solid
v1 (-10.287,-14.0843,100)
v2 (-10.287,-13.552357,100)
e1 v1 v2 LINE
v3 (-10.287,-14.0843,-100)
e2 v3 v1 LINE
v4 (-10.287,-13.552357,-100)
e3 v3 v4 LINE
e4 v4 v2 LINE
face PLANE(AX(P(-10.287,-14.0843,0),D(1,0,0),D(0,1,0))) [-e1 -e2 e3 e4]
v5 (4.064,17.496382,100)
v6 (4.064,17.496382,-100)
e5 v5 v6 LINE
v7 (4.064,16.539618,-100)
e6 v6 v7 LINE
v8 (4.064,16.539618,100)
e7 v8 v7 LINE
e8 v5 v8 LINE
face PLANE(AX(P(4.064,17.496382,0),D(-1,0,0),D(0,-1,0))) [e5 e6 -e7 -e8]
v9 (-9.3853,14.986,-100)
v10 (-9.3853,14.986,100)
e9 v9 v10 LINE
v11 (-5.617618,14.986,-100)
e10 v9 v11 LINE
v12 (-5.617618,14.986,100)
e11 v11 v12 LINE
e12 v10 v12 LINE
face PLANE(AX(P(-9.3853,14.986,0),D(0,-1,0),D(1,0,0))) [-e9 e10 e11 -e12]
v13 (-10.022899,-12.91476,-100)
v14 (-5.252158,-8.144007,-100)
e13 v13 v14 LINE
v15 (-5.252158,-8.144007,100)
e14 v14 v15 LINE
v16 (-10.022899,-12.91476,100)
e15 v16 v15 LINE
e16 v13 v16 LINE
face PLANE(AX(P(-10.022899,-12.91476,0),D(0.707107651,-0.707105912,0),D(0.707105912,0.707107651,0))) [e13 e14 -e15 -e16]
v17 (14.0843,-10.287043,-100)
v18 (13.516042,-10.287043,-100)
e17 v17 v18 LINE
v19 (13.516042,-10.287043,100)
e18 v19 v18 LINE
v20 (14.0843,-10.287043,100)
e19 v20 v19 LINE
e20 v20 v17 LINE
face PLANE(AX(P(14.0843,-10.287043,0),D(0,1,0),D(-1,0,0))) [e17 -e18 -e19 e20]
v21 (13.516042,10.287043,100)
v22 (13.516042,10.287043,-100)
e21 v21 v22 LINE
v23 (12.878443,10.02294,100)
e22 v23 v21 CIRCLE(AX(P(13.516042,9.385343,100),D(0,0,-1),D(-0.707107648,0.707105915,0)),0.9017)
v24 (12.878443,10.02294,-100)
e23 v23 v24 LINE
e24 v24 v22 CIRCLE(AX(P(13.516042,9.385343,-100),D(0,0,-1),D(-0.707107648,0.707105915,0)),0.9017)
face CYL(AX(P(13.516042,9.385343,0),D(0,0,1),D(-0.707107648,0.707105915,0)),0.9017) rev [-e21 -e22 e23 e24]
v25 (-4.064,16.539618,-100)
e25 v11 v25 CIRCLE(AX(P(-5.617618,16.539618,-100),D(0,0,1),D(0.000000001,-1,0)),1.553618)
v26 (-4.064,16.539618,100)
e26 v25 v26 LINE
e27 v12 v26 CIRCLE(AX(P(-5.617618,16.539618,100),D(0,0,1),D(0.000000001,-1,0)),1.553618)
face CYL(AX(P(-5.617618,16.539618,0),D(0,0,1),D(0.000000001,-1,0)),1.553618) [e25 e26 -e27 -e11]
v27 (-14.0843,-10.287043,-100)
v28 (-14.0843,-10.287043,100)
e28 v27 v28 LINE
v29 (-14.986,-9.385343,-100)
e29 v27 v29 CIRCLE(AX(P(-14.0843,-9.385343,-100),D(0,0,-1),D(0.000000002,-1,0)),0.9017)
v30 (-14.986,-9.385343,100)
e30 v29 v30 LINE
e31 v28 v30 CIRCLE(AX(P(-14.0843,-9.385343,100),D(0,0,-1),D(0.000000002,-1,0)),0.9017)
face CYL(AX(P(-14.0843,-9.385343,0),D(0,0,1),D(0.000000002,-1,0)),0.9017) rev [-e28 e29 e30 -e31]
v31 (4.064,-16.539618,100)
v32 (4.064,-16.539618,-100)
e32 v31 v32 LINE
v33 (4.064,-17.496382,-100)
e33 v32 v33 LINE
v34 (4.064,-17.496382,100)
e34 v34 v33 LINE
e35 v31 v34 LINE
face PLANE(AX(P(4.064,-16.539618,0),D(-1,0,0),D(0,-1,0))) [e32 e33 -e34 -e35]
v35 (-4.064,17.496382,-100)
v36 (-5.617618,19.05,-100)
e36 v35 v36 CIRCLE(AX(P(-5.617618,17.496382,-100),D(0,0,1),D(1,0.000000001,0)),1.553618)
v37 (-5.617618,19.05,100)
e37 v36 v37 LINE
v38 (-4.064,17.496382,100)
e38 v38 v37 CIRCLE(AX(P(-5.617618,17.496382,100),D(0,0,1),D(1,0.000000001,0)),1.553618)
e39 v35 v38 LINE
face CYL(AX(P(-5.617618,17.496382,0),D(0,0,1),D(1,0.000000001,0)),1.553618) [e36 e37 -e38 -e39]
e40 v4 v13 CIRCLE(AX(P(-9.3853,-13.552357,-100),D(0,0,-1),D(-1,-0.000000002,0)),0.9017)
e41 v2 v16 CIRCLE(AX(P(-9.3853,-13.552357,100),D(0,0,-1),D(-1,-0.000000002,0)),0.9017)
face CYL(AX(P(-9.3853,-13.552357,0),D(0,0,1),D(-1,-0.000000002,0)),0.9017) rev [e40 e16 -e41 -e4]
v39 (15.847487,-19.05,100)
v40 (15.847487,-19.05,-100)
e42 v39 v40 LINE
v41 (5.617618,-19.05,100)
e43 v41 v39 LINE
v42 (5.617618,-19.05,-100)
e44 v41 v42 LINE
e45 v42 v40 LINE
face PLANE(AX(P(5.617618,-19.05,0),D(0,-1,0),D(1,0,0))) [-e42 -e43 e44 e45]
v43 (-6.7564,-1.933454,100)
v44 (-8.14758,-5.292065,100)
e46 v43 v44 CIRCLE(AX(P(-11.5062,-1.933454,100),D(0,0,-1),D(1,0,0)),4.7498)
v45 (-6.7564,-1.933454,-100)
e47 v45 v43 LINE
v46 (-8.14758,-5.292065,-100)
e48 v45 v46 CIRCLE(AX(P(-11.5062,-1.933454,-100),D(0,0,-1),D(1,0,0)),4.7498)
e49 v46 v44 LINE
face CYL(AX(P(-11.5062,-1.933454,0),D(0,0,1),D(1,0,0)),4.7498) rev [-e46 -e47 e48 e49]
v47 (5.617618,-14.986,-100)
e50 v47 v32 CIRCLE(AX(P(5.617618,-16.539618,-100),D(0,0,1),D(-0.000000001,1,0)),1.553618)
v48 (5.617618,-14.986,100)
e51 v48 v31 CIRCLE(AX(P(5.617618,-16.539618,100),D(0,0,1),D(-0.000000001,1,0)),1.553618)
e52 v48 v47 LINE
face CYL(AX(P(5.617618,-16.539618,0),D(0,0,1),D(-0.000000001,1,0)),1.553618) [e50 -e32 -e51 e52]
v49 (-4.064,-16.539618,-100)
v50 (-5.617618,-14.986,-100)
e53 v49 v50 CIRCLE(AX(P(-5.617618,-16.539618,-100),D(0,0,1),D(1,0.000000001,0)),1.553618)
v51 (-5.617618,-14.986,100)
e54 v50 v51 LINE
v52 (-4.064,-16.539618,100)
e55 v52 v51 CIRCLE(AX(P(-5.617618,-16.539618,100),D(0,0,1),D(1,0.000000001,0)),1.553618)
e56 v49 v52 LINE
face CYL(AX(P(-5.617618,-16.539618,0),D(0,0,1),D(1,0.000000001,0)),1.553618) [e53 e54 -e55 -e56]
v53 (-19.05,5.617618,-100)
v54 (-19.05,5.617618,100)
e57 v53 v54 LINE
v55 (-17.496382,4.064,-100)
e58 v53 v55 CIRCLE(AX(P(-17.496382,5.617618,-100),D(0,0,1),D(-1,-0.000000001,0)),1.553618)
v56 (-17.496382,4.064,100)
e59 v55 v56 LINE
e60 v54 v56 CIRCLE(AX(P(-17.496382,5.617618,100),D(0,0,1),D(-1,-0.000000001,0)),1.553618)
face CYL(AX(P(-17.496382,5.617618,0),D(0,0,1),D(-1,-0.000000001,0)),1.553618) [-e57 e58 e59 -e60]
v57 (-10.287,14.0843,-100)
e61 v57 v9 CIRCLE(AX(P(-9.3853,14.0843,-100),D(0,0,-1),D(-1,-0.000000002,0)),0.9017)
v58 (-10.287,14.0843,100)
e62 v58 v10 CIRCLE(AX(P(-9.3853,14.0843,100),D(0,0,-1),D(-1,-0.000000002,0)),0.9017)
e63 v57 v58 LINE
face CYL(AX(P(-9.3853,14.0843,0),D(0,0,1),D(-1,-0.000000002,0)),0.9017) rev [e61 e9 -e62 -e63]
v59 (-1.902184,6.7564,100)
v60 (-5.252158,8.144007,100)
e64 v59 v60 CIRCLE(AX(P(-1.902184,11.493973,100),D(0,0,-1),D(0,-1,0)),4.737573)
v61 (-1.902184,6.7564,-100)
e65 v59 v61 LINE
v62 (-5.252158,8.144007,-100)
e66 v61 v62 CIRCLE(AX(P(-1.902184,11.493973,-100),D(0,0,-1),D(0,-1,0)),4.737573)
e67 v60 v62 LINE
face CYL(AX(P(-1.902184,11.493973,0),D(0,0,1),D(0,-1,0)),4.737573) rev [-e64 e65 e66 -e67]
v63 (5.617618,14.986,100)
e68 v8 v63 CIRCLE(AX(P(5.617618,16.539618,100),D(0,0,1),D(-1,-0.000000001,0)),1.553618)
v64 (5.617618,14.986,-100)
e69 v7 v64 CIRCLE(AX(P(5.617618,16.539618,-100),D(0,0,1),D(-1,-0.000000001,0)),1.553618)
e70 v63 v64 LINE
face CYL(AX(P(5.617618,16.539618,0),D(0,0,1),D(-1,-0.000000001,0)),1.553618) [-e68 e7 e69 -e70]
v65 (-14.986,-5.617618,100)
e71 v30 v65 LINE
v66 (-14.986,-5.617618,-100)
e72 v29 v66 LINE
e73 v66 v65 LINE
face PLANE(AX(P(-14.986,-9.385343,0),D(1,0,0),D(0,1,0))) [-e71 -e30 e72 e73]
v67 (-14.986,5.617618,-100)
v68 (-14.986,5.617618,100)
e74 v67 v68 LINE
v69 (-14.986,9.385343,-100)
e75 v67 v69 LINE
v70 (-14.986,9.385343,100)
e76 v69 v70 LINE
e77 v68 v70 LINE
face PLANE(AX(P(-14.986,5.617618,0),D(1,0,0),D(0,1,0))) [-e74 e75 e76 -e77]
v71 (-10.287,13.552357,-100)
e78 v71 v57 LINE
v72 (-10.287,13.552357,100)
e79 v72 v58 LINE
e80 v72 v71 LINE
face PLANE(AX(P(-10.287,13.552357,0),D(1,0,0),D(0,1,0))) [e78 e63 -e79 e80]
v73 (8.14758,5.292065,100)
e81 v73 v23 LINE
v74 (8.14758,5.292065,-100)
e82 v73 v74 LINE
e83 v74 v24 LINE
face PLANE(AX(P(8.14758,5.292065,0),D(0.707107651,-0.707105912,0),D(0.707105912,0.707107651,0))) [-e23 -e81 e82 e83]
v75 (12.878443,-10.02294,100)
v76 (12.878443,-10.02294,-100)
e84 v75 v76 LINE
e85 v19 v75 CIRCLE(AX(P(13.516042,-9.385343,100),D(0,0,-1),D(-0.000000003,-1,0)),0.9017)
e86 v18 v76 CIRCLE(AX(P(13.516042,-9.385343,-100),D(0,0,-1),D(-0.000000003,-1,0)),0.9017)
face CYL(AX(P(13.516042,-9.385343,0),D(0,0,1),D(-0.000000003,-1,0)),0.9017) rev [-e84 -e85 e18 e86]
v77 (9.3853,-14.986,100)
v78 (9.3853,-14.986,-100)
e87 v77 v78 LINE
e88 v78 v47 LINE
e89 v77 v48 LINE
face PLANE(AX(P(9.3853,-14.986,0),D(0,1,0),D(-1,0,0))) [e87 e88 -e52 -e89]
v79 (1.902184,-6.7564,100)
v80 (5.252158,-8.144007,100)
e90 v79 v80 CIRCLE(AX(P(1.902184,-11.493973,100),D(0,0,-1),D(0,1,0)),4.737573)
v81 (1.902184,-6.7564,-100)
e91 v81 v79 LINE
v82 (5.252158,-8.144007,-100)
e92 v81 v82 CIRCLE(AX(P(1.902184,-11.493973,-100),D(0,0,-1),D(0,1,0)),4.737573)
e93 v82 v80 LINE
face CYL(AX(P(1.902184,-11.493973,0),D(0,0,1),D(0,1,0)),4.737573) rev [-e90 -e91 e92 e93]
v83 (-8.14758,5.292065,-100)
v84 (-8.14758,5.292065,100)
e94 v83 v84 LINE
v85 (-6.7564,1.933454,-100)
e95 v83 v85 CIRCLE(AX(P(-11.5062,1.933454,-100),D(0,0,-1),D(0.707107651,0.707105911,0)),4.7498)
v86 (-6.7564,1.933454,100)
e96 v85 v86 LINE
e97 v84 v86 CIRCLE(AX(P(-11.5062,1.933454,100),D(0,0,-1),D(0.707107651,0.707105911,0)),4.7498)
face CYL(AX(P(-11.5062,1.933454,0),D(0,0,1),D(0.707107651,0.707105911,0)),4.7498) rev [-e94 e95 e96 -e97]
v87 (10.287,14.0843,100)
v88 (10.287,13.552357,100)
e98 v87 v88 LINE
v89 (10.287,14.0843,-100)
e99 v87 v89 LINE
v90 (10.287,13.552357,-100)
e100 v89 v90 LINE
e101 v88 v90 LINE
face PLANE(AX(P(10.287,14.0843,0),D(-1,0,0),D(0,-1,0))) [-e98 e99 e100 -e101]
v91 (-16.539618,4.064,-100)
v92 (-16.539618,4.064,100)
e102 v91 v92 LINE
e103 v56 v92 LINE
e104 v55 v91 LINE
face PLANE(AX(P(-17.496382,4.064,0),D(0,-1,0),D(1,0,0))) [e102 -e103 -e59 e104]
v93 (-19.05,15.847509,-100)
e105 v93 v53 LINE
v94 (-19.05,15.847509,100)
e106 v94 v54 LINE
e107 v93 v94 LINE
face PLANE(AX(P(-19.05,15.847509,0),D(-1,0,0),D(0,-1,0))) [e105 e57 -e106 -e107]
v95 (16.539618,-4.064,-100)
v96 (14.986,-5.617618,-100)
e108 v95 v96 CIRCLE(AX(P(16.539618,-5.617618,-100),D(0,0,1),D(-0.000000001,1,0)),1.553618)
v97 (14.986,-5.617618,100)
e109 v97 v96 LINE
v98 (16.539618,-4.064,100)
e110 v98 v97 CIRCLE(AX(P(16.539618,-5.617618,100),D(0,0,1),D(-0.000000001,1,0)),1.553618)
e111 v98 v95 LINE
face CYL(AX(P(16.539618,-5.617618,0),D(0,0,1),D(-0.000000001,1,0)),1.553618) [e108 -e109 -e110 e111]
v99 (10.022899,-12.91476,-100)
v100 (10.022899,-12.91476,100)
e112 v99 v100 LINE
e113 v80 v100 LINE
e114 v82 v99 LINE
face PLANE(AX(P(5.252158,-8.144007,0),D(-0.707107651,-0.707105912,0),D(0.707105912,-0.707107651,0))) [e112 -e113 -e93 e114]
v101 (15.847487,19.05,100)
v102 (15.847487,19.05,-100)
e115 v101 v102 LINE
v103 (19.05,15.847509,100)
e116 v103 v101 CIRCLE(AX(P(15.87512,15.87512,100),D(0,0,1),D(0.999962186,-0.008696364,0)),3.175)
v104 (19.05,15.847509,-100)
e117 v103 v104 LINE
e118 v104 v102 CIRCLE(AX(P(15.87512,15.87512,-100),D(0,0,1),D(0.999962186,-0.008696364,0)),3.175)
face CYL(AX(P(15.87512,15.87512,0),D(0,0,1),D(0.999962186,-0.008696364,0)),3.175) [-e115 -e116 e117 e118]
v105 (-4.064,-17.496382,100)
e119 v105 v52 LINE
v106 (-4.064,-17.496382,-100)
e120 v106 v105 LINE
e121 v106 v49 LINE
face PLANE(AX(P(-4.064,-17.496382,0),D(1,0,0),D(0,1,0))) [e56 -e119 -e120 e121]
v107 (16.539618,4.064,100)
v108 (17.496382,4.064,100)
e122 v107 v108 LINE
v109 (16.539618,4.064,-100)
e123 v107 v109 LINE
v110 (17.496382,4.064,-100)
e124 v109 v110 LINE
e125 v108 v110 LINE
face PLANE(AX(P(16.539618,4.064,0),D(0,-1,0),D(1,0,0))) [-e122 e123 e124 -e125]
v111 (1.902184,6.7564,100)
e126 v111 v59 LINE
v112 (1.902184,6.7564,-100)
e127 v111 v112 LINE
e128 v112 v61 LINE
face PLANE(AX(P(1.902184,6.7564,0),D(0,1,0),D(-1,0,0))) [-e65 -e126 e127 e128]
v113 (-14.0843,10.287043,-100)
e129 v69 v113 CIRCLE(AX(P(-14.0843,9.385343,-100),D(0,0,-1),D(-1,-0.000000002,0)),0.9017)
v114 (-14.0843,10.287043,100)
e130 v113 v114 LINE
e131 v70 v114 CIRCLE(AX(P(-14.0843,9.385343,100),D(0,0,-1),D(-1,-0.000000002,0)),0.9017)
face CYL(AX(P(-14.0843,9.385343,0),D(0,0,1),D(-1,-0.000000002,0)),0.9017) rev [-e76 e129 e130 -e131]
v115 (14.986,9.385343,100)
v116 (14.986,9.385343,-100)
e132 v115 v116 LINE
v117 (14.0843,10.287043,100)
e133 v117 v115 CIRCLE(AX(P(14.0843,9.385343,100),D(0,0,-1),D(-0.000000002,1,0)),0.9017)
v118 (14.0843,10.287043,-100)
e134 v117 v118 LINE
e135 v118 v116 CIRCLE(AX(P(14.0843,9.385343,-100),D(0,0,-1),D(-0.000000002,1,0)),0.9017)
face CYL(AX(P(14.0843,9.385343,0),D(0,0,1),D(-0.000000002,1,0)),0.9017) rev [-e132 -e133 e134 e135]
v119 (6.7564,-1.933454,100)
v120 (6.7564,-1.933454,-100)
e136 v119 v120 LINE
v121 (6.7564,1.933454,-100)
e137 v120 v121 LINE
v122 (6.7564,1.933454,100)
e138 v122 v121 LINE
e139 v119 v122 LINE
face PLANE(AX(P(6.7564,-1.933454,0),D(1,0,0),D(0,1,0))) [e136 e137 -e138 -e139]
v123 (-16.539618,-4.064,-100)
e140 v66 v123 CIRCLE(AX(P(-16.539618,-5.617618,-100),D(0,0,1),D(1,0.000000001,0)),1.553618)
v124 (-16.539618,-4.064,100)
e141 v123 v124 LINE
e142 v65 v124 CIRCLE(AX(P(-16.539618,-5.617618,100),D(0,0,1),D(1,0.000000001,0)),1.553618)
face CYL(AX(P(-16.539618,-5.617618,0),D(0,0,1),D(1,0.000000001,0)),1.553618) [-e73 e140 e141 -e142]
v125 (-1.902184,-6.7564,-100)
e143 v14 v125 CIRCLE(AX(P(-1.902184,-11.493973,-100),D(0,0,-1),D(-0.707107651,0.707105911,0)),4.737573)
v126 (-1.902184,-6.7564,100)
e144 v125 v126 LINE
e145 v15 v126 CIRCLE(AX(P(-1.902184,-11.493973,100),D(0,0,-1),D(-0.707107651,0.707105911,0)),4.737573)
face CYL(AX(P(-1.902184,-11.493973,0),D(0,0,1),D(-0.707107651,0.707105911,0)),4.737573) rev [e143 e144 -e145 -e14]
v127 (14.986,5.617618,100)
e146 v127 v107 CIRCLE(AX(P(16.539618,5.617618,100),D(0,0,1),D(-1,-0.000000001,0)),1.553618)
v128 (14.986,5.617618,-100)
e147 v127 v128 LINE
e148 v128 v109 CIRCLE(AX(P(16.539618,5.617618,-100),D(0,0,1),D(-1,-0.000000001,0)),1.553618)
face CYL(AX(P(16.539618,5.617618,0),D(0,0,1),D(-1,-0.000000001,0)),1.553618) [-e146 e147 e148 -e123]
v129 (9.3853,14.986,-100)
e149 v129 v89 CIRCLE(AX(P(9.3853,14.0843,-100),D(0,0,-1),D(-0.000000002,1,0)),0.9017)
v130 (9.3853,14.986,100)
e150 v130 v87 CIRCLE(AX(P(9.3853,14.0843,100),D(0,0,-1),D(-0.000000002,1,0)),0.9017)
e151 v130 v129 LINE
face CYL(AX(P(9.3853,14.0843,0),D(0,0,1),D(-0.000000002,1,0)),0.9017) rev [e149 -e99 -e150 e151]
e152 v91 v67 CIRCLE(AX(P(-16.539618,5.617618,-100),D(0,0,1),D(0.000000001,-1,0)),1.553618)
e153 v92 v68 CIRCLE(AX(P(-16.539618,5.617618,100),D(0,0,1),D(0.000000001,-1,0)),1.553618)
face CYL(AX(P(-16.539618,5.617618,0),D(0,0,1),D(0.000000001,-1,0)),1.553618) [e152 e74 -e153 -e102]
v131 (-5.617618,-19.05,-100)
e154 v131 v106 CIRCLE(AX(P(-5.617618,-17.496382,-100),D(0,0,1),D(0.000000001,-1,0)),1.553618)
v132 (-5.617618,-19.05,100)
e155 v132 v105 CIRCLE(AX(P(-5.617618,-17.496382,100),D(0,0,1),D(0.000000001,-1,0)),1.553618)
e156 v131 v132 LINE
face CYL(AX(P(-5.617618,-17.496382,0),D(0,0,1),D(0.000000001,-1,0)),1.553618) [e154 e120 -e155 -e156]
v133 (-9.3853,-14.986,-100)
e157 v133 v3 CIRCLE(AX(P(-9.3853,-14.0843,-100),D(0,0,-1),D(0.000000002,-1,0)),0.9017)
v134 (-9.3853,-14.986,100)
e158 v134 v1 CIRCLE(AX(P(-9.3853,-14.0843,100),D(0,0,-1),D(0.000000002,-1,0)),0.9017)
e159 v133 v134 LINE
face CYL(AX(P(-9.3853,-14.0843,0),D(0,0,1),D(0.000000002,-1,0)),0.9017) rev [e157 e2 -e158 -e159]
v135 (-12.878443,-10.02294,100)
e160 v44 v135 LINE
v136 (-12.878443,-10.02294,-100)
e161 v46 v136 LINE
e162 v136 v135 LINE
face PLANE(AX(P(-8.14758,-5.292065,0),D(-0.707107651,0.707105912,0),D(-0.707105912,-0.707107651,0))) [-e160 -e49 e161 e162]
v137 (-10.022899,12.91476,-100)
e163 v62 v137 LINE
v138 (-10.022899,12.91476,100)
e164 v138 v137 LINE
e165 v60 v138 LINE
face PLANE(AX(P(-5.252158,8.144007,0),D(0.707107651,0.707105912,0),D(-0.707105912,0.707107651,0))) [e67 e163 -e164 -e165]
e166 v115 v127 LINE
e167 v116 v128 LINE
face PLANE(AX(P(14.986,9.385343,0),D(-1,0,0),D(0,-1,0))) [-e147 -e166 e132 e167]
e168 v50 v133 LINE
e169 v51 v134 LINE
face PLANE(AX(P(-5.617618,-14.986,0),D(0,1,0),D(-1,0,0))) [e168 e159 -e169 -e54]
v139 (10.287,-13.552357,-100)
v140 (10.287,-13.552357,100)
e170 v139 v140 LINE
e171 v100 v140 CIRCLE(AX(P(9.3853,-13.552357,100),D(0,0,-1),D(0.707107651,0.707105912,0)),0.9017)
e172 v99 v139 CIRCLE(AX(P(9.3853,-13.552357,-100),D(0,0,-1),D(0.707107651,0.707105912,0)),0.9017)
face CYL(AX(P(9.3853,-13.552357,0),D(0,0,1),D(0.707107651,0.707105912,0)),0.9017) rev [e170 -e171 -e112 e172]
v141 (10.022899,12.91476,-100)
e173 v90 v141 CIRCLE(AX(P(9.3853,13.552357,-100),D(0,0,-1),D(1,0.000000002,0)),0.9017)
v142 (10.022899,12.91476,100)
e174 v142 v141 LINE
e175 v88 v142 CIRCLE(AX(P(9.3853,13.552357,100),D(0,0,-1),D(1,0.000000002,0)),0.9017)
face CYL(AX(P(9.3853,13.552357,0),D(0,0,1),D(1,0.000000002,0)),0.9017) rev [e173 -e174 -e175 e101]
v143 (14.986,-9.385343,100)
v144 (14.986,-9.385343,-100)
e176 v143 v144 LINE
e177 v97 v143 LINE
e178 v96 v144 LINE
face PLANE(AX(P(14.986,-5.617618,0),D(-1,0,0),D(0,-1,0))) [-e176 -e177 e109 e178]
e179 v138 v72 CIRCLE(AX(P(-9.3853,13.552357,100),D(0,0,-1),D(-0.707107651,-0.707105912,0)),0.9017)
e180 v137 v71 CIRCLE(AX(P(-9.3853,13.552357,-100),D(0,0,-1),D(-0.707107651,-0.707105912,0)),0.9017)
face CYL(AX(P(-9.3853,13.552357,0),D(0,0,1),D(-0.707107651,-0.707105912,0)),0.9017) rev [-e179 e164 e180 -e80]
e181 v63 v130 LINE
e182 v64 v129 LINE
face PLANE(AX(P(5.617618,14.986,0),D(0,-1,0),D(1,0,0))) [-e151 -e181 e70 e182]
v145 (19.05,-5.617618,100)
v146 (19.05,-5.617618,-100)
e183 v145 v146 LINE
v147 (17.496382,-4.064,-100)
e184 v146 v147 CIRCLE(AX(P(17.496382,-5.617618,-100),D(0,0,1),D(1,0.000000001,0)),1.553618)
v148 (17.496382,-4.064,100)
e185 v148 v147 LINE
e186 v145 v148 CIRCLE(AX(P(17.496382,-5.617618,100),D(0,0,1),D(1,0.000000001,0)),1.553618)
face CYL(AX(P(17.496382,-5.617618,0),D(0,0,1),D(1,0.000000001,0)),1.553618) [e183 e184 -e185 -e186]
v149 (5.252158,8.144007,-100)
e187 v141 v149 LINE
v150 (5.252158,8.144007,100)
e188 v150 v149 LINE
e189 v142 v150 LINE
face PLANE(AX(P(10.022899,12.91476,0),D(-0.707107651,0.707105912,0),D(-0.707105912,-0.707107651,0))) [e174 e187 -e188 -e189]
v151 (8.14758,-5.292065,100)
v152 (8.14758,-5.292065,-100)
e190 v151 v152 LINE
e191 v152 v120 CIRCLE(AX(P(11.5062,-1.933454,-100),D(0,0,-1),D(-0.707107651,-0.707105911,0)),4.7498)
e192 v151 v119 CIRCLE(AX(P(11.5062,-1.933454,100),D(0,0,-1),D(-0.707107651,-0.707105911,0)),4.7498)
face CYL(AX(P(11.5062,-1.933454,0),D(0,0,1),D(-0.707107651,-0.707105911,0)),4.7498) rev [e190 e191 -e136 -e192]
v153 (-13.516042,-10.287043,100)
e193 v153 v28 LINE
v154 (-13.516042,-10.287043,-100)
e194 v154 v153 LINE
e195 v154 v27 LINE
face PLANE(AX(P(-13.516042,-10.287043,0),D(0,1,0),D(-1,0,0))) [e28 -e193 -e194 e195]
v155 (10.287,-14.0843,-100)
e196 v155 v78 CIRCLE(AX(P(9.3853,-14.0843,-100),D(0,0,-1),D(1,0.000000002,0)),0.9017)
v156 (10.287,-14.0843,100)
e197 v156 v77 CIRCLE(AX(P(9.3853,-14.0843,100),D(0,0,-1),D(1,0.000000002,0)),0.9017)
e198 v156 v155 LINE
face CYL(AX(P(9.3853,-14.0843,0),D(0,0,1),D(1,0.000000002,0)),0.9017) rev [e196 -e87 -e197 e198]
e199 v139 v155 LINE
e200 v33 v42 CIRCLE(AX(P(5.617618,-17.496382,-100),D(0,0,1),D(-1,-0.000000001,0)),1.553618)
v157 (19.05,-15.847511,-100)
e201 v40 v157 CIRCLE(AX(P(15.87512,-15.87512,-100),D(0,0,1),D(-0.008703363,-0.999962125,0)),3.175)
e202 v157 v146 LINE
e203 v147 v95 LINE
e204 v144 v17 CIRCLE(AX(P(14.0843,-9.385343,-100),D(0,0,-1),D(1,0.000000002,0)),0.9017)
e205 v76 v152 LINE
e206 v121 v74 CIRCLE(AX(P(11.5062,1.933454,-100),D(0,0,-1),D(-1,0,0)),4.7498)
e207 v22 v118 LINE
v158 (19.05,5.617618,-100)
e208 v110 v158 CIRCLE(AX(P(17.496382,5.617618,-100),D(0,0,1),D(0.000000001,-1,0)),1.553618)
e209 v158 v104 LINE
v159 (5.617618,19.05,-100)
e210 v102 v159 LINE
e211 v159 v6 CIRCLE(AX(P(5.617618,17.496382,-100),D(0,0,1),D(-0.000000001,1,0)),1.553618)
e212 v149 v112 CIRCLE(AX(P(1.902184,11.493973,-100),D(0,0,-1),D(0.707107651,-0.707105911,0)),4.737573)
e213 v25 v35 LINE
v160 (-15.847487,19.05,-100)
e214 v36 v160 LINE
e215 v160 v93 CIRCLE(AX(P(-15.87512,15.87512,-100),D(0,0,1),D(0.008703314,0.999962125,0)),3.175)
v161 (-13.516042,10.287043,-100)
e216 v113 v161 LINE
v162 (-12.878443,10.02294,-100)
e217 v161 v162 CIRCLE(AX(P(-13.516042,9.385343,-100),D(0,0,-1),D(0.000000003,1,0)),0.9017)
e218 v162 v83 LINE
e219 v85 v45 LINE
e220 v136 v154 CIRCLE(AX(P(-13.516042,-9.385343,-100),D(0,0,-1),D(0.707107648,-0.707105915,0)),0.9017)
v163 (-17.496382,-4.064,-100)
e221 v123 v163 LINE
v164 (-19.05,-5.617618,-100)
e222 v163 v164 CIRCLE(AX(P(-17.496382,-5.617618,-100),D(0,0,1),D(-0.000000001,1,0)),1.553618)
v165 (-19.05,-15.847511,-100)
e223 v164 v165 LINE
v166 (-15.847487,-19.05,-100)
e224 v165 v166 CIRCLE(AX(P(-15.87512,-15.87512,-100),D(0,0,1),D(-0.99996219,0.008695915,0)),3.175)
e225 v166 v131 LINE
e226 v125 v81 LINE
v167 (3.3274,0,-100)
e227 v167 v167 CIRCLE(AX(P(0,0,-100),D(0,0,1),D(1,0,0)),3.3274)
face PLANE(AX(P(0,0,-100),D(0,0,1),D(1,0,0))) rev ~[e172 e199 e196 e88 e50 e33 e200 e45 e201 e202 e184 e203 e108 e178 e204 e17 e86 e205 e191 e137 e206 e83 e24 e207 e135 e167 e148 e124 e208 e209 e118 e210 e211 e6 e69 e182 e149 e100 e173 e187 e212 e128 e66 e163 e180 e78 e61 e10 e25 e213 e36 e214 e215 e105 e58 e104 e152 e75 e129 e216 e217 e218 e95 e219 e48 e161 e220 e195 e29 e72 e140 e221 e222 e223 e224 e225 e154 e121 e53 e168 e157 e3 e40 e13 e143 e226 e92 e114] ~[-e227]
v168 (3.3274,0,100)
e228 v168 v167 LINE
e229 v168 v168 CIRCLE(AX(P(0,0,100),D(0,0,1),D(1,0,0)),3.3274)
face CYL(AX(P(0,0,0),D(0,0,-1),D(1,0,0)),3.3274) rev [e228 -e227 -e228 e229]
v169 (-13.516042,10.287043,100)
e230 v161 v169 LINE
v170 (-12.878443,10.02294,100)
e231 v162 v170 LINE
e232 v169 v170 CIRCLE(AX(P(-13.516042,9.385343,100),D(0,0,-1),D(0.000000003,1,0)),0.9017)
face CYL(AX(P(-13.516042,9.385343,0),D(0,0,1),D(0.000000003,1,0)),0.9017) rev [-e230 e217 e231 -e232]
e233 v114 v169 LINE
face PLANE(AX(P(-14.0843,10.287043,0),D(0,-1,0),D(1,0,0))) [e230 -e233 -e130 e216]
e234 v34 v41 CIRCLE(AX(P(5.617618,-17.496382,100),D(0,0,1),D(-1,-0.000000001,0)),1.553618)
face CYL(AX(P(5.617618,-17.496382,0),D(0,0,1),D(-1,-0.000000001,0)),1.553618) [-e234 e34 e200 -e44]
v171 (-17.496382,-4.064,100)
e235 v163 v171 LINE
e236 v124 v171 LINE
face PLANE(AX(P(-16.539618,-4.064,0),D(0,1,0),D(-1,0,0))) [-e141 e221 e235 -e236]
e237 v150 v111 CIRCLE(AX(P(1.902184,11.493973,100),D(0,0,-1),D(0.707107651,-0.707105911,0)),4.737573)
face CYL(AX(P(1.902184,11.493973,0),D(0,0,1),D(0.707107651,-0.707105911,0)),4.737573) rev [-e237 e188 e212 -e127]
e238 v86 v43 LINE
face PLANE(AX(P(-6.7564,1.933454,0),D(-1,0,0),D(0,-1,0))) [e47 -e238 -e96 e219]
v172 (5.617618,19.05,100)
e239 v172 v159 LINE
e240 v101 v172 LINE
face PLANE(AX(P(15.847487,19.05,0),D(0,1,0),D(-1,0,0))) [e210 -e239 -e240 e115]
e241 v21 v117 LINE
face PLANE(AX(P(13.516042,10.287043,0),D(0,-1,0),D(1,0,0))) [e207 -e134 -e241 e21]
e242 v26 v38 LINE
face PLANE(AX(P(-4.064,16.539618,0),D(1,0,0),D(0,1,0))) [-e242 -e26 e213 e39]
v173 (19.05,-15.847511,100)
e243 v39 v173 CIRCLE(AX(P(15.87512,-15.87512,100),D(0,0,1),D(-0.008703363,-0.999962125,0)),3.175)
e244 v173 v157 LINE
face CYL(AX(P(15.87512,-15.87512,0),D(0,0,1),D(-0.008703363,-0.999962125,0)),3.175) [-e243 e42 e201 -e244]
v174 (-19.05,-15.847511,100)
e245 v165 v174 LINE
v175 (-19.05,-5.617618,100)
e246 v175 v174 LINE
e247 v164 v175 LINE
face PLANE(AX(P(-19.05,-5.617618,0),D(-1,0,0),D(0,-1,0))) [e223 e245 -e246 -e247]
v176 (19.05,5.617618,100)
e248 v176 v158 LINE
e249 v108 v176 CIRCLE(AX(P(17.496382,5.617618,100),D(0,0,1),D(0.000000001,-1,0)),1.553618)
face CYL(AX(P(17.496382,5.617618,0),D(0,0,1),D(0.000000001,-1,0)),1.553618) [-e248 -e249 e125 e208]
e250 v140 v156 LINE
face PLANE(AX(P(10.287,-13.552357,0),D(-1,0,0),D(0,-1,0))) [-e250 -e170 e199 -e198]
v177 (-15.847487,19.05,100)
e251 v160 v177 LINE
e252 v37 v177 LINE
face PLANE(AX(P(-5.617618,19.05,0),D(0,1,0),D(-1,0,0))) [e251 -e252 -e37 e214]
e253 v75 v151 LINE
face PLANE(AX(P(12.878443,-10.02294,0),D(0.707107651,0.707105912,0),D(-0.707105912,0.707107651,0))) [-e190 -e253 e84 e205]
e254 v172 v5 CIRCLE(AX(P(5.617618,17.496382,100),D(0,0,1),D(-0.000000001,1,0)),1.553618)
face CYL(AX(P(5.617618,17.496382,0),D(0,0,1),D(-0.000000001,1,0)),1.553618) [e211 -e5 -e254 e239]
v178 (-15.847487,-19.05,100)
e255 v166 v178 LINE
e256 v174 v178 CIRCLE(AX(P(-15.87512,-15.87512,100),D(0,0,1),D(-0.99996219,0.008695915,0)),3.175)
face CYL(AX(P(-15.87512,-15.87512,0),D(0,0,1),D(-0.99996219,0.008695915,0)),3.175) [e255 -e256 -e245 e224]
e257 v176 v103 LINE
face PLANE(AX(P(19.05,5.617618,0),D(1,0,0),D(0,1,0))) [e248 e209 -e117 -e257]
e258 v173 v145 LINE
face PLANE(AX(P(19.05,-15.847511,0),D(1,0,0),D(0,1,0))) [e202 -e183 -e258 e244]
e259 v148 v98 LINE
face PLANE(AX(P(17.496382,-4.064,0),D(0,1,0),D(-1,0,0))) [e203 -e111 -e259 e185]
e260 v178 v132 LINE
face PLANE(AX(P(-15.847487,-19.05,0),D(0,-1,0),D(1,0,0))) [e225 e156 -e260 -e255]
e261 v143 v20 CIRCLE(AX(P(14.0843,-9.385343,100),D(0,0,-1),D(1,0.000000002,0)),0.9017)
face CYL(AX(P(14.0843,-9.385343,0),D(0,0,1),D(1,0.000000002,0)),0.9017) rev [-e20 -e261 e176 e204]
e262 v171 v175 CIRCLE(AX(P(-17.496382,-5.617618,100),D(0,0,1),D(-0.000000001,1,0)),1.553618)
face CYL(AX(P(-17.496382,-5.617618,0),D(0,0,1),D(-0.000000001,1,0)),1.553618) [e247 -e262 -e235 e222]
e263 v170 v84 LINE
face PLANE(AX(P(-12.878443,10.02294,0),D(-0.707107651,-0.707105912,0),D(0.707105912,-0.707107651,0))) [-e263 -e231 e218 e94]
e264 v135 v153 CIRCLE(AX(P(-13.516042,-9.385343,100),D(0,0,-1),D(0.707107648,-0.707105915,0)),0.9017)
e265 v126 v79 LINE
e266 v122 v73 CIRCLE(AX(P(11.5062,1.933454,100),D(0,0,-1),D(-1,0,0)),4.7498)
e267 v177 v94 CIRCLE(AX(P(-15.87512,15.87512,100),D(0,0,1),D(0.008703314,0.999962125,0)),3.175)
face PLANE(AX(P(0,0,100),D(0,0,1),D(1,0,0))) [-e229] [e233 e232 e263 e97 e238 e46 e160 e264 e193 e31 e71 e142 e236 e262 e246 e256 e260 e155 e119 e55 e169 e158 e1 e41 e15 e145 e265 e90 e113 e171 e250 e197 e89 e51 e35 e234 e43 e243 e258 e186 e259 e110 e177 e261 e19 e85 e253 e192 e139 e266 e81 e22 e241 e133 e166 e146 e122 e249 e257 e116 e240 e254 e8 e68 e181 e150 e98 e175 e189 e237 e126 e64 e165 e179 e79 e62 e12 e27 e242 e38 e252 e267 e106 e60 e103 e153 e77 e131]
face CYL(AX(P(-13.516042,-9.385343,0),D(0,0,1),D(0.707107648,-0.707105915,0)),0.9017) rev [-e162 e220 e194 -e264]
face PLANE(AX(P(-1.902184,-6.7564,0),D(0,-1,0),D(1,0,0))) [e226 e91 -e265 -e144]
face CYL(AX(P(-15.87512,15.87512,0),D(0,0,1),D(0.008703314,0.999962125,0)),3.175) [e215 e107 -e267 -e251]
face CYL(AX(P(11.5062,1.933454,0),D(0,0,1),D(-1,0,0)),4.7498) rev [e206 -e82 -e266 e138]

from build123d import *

# Parameters (mm, degrees)
SKETCH1_R           = 3.3274
BOSS_EXTRUDE1_DEPTH = 100


with BuildPart() as part:
    # Sketch1 → Boss-Extrude1 (new, symmetric)
    with BuildSketch(Plane.XY):
        with BuildLine():
            Line((-10.287, 13.552357131), (-10.287, 14.0843))
            ThreePointArc((-10.287, 14.0843), (-10.022898185, 14.721898185), (-9.3853, 14.986))
            Line((-9.3853, 14.986), (-5.617617549, 14.986))
            ThreePointArc((-5.617617549, 14.986), (-4.519044045, 15.441044045), (-4.064, 16.539617549))
            Line((-4.064, 16.539617549), (-4.064, 17.496382451))
            ThreePointArc((-4.064, 17.496382451), (-4.519044045, 18.594955955), (-5.617617549, 19.05))
            Line((-5.617617549, 19.05), (-7.974178704, 19.05))
            Line((-7.974178704, 19.05), (-15.847487039, 19.05))
            ThreePointArc((-15.847487039, 19.05), (-18.120176289, 18.120192083), (-19.05, 15.847509295))
            Line((-19.05, 15.847509295), (-19.05, 7.97632366))
            Line((-19.05, 7.97632366), (-19.05, 5.617617549))
            ThreePointArc((-19.05, 5.617617549), (-18.594955955, 4.519044045), (-17.496382451, 4.064))
            Line((-17.496382451, 4.064), (-16.539617549, 4.064))
            ThreePointArc((-16.539617549, 4.064), (-15.441044045, 4.519044045), (-14.986, 5.617617549))
            Line((-14.986, 5.617617549), (-14.986, 9.385342516))
            ThreePointArc((-14.986, 9.385342516), (-14.721898185, 10.022940701), (-14.0843, 10.287042516))
            Line((-14.0843, 10.287042516), (-13.516042086, 10.287042516))
            ThreePointArc((-13.516042086, 10.287042516), (-13.170975923, 10.218404478), (-12.878443117, 10.022939917))
            Line((-12.878443117, 10.022939917), (-8.14758008, 5.292065243))
            ThreePointArc((-8.14758008, 5.292065243), (-7.117955879, 3.751120653), (-6.7564, 1.933453584))
            Line((-6.7564, 1.933453584), (-6.7564, -1.933453584))
            ThreePointArc((-6.7564, -1.933453584), (-7.117955879, -3.751120653), (-8.14758008, -5.292065243))
            Line((-8.14758008, -5.292065243), (-12.878443117, -10.022939917))
            ThreePointArc((-12.878443117, -10.022939917), (-13.170975923, -10.218404478), (-13.516042086, -10.287042516))
            Line((-13.516042086, -10.287042516), (-14.0843, -10.287042516))
            ThreePointArc((-14.0843, -10.287042516), (-14.721898185, -10.022940701), (-14.986, -9.385342516))
            Line((-14.986, -9.385342516), (-14.986, -5.617617549))
            ThreePointArc((-14.986, -5.617617549), (-15.441044045, -4.519044045), (-16.539617549, -4.064))
            Line((-16.539617549, -4.064), (-17.496382451, -4.064))
            ThreePointArc((-17.496382451, -4.064), (-18.594955955, -4.519044045), (-19.05, -5.617617549))
            Line((-19.05, -5.617617549), (-19.05, -7.976318491))
            Line((-19.05, -7.976318491), (-19.05, -15.847510721))
            ThreePointArc((-19.05, -15.847510721), (-18.120175716, -18.120192644), (-15.847486868, -19.05))
            Line((-15.847486868, -19.05), (-7.976294616, -19.05))
            Line((-7.976294616, -19.05), (-5.617617549, -19.05))
            ThreePointArc((-5.617617549, -19.05), (-4.519044045, -18.594955955), (-4.064, -17.496382451))
            Line((-4.064, -17.496382451), (-4.064, -16.539617549))
            ThreePointArc((-4.064, -16.539617549), (-4.519044045, -15.441044045), (-5.617617549, -14.986))
            Line((-5.617617549, -14.986), (-9.3853, -14.986))
            ThreePointArc((-9.3853, -14.986), (-10.022898185, -14.721898185), (-10.287, -14.0843))
            Line((-10.287, -14.0843), (-10.287, -13.552357131))
            ThreePointArc((-10.287, -13.552357131), (-10.218362387, -13.207291992), (-10.022898969, -12.91475973))
            Line((-10.022898969, -12.91475973), (-5.252158105, -8.144007132))
            ThreePointArc((-5.252158105, -8.144007132), (-3.715177372, -7.117027388), (-1.902183975, -6.7564))
            Line((-1.902183975, -6.7564), (1.902183975, -6.7564))
            ThreePointArc((1.902183975, -6.7564), (3.715177372, -7.117027388), (5.252158105, -8.144007132))
            Line((5.252158105, -8.144007132), (10.022898969, -12.91475973))
            ThreePointArc((10.022898969, -12.91475973), (10.218362387, -13.207291992), (10.287, -13.552357131))
            Line((10.287, -13.552357131), (10.287, -14.0843))
            ThreePointArc((10.287, -14.0843), (10.022898185, -14.721898185), (9.3853, -14.986))
            Line((9.3853, -14.986), (5.617617549, -14.986))
            ThreePointArc((5.617617549, -14.986), (4.519044045, -15.441044045), (4.064, -16.539617549))
            Line((4.064, -16.539617549), (4.064, -17.496382451))
            ThreePointArc((4.064, -17.496382451), (4.519044045, -18.594955955), (5.617617549, -19.05))
            Line((5.617617549, -19.05), (7.976294616, -19.05))
            Line((7.976294616, -19.05), (15.847486868, -19.05))
            ThreePointArc((15.847486868, -19.05), (18.120175716, -18.120192644), (19.05, -15.847510721))
            Line((19.05, -15.847510721), (19.05, -7.976318491))
            Line((19.05, -7.976318491), (19.05, -5.617617549))
            ThreePointArc((19.05, -5.617617549), (18.594955955, -4.519044045), (17.496382451, -4.064))
            Line((17.496382451, -4.064), (16.539617549, -4.064))
            ThreePointArc((16.539617549, -4.064), (15.441044045, -4.519044045), (14.986, -5.617617549))
            Line((14.986, -5.617617549), (14.986, -9.385342516))
            ThreePointArc((14.986, -9.385342516), (14.721898185, -10.022940701), (14.0843, -10.287042516))
            Line((14.0843, -10.287042516), (13.516042086, -10.287042516))
            ThreePointArc((13.516042086, -10.287042516), (13.170975923, -10.218404478), (12.878443117, -10.022939917))
            Line((12.878443117, -10.022939917), (8.14758008, -5.292065243))
            ThreePointArc((8.14758008, -5.292065243), (7.117955879, -3.751120653), (6.7564, -1.933453584))
            Line((6.7564, -1.933453584), (6.7564, 1.933453584))
            ThreePointArc((6.7564, 1.933453584), (7.117955879, 3.751120653), (8.14758008, 5.292065243))
            Line((8.14758008, 5.292065243), (12.878443117, 10.022939917))
            ThreePointArc((12.878443117, 10.022939917), (13.170975923, 10.218404478), (13.516042086, 10.287042516))
            Line((13.516042086, 10.287042516), (14.0843, 10.287042516))
            ThreePointArc((14.0843, 10.287042516), (14.721898185, 10.022940701), (14.986, 9.385342516))
            Line((14.986, 9.385342516), (14.986, 5.617617549))
            ThreePointArc((14.986, 5.617617549), (15.441044045, 4.519044045), (16.539617549, 4.064))
            Line((16.539617549, 4.064), (17.496382451, 4.064))
            ThreePointArc((17.496382451, 4.064), (18.594955955, 4.519044045), (19.05, 5.617617549))
            Line((19.05, 5.617617549), (19.05, 9.496091471))
            Line((19.05, 9.496091471), (19.05, 15.847509295))
            ThreePointArc((19.05, 15.847509295), (18.120176289, 18.120192083), (15.847487039, 19.05))
            Line((15.847487039, 19.05), (7.974178704, 19.05))
            Line((7.974178704, 19.05), (5.617617549, 19.05))
            ThreePointArc((5.617617549, 19.05), (4.519044045, 18.594955955), (4.064, 17.496382451))
            Line((4.064, 17.496382451), (4.064, 16.539617549))
            ThreePointArc((4.064, 16.539617549), (4.519044045, 15.441044045), (5.617617549, 14.986))
            Line((5.617617549, 14.986), (9.3853, 14.986))
            ThreePointArc((9.3853, 14.986), (10.022898185, 14.721898185), (10.287, 14.0843))
            Line((10.287, 14.0843), (10.287, 13.552357131))
            ThreePointArc((10.287, 13.552357131), (10.218362387, 13.207291992), (10.022898969, 12.91475973))
            Line((10.022898969, 12.91475973), (5.252158105, 8.144007132))
            ThreePointArc((5.252158105, 8.144007132), (3.715177372, 7.117027388), (1.902183975, 6.7564))
            Line((1.902183975, 6.7564), (-1.902183975, 6.7564))
            ThreePointArc((-1.902183975, 6.7564), (-3.715177372, 7.117027388), (-5.252158105, 8.144007132))
            Line((-5.252158105, 8.144007132), (-10.022898969, 12.91475973))
            ThreePointArc((-10.022898969, 12.91475973), (-10.218362387, 13.207291992), (-10.287, 13.552357131))
        make_face()
        Circle(SKETCH1_R, mode=Mode.SUBTRACT)
    extrude(amount=BOSS_EXTRUDE1_DEPTH, both=True)


solid = part.part
